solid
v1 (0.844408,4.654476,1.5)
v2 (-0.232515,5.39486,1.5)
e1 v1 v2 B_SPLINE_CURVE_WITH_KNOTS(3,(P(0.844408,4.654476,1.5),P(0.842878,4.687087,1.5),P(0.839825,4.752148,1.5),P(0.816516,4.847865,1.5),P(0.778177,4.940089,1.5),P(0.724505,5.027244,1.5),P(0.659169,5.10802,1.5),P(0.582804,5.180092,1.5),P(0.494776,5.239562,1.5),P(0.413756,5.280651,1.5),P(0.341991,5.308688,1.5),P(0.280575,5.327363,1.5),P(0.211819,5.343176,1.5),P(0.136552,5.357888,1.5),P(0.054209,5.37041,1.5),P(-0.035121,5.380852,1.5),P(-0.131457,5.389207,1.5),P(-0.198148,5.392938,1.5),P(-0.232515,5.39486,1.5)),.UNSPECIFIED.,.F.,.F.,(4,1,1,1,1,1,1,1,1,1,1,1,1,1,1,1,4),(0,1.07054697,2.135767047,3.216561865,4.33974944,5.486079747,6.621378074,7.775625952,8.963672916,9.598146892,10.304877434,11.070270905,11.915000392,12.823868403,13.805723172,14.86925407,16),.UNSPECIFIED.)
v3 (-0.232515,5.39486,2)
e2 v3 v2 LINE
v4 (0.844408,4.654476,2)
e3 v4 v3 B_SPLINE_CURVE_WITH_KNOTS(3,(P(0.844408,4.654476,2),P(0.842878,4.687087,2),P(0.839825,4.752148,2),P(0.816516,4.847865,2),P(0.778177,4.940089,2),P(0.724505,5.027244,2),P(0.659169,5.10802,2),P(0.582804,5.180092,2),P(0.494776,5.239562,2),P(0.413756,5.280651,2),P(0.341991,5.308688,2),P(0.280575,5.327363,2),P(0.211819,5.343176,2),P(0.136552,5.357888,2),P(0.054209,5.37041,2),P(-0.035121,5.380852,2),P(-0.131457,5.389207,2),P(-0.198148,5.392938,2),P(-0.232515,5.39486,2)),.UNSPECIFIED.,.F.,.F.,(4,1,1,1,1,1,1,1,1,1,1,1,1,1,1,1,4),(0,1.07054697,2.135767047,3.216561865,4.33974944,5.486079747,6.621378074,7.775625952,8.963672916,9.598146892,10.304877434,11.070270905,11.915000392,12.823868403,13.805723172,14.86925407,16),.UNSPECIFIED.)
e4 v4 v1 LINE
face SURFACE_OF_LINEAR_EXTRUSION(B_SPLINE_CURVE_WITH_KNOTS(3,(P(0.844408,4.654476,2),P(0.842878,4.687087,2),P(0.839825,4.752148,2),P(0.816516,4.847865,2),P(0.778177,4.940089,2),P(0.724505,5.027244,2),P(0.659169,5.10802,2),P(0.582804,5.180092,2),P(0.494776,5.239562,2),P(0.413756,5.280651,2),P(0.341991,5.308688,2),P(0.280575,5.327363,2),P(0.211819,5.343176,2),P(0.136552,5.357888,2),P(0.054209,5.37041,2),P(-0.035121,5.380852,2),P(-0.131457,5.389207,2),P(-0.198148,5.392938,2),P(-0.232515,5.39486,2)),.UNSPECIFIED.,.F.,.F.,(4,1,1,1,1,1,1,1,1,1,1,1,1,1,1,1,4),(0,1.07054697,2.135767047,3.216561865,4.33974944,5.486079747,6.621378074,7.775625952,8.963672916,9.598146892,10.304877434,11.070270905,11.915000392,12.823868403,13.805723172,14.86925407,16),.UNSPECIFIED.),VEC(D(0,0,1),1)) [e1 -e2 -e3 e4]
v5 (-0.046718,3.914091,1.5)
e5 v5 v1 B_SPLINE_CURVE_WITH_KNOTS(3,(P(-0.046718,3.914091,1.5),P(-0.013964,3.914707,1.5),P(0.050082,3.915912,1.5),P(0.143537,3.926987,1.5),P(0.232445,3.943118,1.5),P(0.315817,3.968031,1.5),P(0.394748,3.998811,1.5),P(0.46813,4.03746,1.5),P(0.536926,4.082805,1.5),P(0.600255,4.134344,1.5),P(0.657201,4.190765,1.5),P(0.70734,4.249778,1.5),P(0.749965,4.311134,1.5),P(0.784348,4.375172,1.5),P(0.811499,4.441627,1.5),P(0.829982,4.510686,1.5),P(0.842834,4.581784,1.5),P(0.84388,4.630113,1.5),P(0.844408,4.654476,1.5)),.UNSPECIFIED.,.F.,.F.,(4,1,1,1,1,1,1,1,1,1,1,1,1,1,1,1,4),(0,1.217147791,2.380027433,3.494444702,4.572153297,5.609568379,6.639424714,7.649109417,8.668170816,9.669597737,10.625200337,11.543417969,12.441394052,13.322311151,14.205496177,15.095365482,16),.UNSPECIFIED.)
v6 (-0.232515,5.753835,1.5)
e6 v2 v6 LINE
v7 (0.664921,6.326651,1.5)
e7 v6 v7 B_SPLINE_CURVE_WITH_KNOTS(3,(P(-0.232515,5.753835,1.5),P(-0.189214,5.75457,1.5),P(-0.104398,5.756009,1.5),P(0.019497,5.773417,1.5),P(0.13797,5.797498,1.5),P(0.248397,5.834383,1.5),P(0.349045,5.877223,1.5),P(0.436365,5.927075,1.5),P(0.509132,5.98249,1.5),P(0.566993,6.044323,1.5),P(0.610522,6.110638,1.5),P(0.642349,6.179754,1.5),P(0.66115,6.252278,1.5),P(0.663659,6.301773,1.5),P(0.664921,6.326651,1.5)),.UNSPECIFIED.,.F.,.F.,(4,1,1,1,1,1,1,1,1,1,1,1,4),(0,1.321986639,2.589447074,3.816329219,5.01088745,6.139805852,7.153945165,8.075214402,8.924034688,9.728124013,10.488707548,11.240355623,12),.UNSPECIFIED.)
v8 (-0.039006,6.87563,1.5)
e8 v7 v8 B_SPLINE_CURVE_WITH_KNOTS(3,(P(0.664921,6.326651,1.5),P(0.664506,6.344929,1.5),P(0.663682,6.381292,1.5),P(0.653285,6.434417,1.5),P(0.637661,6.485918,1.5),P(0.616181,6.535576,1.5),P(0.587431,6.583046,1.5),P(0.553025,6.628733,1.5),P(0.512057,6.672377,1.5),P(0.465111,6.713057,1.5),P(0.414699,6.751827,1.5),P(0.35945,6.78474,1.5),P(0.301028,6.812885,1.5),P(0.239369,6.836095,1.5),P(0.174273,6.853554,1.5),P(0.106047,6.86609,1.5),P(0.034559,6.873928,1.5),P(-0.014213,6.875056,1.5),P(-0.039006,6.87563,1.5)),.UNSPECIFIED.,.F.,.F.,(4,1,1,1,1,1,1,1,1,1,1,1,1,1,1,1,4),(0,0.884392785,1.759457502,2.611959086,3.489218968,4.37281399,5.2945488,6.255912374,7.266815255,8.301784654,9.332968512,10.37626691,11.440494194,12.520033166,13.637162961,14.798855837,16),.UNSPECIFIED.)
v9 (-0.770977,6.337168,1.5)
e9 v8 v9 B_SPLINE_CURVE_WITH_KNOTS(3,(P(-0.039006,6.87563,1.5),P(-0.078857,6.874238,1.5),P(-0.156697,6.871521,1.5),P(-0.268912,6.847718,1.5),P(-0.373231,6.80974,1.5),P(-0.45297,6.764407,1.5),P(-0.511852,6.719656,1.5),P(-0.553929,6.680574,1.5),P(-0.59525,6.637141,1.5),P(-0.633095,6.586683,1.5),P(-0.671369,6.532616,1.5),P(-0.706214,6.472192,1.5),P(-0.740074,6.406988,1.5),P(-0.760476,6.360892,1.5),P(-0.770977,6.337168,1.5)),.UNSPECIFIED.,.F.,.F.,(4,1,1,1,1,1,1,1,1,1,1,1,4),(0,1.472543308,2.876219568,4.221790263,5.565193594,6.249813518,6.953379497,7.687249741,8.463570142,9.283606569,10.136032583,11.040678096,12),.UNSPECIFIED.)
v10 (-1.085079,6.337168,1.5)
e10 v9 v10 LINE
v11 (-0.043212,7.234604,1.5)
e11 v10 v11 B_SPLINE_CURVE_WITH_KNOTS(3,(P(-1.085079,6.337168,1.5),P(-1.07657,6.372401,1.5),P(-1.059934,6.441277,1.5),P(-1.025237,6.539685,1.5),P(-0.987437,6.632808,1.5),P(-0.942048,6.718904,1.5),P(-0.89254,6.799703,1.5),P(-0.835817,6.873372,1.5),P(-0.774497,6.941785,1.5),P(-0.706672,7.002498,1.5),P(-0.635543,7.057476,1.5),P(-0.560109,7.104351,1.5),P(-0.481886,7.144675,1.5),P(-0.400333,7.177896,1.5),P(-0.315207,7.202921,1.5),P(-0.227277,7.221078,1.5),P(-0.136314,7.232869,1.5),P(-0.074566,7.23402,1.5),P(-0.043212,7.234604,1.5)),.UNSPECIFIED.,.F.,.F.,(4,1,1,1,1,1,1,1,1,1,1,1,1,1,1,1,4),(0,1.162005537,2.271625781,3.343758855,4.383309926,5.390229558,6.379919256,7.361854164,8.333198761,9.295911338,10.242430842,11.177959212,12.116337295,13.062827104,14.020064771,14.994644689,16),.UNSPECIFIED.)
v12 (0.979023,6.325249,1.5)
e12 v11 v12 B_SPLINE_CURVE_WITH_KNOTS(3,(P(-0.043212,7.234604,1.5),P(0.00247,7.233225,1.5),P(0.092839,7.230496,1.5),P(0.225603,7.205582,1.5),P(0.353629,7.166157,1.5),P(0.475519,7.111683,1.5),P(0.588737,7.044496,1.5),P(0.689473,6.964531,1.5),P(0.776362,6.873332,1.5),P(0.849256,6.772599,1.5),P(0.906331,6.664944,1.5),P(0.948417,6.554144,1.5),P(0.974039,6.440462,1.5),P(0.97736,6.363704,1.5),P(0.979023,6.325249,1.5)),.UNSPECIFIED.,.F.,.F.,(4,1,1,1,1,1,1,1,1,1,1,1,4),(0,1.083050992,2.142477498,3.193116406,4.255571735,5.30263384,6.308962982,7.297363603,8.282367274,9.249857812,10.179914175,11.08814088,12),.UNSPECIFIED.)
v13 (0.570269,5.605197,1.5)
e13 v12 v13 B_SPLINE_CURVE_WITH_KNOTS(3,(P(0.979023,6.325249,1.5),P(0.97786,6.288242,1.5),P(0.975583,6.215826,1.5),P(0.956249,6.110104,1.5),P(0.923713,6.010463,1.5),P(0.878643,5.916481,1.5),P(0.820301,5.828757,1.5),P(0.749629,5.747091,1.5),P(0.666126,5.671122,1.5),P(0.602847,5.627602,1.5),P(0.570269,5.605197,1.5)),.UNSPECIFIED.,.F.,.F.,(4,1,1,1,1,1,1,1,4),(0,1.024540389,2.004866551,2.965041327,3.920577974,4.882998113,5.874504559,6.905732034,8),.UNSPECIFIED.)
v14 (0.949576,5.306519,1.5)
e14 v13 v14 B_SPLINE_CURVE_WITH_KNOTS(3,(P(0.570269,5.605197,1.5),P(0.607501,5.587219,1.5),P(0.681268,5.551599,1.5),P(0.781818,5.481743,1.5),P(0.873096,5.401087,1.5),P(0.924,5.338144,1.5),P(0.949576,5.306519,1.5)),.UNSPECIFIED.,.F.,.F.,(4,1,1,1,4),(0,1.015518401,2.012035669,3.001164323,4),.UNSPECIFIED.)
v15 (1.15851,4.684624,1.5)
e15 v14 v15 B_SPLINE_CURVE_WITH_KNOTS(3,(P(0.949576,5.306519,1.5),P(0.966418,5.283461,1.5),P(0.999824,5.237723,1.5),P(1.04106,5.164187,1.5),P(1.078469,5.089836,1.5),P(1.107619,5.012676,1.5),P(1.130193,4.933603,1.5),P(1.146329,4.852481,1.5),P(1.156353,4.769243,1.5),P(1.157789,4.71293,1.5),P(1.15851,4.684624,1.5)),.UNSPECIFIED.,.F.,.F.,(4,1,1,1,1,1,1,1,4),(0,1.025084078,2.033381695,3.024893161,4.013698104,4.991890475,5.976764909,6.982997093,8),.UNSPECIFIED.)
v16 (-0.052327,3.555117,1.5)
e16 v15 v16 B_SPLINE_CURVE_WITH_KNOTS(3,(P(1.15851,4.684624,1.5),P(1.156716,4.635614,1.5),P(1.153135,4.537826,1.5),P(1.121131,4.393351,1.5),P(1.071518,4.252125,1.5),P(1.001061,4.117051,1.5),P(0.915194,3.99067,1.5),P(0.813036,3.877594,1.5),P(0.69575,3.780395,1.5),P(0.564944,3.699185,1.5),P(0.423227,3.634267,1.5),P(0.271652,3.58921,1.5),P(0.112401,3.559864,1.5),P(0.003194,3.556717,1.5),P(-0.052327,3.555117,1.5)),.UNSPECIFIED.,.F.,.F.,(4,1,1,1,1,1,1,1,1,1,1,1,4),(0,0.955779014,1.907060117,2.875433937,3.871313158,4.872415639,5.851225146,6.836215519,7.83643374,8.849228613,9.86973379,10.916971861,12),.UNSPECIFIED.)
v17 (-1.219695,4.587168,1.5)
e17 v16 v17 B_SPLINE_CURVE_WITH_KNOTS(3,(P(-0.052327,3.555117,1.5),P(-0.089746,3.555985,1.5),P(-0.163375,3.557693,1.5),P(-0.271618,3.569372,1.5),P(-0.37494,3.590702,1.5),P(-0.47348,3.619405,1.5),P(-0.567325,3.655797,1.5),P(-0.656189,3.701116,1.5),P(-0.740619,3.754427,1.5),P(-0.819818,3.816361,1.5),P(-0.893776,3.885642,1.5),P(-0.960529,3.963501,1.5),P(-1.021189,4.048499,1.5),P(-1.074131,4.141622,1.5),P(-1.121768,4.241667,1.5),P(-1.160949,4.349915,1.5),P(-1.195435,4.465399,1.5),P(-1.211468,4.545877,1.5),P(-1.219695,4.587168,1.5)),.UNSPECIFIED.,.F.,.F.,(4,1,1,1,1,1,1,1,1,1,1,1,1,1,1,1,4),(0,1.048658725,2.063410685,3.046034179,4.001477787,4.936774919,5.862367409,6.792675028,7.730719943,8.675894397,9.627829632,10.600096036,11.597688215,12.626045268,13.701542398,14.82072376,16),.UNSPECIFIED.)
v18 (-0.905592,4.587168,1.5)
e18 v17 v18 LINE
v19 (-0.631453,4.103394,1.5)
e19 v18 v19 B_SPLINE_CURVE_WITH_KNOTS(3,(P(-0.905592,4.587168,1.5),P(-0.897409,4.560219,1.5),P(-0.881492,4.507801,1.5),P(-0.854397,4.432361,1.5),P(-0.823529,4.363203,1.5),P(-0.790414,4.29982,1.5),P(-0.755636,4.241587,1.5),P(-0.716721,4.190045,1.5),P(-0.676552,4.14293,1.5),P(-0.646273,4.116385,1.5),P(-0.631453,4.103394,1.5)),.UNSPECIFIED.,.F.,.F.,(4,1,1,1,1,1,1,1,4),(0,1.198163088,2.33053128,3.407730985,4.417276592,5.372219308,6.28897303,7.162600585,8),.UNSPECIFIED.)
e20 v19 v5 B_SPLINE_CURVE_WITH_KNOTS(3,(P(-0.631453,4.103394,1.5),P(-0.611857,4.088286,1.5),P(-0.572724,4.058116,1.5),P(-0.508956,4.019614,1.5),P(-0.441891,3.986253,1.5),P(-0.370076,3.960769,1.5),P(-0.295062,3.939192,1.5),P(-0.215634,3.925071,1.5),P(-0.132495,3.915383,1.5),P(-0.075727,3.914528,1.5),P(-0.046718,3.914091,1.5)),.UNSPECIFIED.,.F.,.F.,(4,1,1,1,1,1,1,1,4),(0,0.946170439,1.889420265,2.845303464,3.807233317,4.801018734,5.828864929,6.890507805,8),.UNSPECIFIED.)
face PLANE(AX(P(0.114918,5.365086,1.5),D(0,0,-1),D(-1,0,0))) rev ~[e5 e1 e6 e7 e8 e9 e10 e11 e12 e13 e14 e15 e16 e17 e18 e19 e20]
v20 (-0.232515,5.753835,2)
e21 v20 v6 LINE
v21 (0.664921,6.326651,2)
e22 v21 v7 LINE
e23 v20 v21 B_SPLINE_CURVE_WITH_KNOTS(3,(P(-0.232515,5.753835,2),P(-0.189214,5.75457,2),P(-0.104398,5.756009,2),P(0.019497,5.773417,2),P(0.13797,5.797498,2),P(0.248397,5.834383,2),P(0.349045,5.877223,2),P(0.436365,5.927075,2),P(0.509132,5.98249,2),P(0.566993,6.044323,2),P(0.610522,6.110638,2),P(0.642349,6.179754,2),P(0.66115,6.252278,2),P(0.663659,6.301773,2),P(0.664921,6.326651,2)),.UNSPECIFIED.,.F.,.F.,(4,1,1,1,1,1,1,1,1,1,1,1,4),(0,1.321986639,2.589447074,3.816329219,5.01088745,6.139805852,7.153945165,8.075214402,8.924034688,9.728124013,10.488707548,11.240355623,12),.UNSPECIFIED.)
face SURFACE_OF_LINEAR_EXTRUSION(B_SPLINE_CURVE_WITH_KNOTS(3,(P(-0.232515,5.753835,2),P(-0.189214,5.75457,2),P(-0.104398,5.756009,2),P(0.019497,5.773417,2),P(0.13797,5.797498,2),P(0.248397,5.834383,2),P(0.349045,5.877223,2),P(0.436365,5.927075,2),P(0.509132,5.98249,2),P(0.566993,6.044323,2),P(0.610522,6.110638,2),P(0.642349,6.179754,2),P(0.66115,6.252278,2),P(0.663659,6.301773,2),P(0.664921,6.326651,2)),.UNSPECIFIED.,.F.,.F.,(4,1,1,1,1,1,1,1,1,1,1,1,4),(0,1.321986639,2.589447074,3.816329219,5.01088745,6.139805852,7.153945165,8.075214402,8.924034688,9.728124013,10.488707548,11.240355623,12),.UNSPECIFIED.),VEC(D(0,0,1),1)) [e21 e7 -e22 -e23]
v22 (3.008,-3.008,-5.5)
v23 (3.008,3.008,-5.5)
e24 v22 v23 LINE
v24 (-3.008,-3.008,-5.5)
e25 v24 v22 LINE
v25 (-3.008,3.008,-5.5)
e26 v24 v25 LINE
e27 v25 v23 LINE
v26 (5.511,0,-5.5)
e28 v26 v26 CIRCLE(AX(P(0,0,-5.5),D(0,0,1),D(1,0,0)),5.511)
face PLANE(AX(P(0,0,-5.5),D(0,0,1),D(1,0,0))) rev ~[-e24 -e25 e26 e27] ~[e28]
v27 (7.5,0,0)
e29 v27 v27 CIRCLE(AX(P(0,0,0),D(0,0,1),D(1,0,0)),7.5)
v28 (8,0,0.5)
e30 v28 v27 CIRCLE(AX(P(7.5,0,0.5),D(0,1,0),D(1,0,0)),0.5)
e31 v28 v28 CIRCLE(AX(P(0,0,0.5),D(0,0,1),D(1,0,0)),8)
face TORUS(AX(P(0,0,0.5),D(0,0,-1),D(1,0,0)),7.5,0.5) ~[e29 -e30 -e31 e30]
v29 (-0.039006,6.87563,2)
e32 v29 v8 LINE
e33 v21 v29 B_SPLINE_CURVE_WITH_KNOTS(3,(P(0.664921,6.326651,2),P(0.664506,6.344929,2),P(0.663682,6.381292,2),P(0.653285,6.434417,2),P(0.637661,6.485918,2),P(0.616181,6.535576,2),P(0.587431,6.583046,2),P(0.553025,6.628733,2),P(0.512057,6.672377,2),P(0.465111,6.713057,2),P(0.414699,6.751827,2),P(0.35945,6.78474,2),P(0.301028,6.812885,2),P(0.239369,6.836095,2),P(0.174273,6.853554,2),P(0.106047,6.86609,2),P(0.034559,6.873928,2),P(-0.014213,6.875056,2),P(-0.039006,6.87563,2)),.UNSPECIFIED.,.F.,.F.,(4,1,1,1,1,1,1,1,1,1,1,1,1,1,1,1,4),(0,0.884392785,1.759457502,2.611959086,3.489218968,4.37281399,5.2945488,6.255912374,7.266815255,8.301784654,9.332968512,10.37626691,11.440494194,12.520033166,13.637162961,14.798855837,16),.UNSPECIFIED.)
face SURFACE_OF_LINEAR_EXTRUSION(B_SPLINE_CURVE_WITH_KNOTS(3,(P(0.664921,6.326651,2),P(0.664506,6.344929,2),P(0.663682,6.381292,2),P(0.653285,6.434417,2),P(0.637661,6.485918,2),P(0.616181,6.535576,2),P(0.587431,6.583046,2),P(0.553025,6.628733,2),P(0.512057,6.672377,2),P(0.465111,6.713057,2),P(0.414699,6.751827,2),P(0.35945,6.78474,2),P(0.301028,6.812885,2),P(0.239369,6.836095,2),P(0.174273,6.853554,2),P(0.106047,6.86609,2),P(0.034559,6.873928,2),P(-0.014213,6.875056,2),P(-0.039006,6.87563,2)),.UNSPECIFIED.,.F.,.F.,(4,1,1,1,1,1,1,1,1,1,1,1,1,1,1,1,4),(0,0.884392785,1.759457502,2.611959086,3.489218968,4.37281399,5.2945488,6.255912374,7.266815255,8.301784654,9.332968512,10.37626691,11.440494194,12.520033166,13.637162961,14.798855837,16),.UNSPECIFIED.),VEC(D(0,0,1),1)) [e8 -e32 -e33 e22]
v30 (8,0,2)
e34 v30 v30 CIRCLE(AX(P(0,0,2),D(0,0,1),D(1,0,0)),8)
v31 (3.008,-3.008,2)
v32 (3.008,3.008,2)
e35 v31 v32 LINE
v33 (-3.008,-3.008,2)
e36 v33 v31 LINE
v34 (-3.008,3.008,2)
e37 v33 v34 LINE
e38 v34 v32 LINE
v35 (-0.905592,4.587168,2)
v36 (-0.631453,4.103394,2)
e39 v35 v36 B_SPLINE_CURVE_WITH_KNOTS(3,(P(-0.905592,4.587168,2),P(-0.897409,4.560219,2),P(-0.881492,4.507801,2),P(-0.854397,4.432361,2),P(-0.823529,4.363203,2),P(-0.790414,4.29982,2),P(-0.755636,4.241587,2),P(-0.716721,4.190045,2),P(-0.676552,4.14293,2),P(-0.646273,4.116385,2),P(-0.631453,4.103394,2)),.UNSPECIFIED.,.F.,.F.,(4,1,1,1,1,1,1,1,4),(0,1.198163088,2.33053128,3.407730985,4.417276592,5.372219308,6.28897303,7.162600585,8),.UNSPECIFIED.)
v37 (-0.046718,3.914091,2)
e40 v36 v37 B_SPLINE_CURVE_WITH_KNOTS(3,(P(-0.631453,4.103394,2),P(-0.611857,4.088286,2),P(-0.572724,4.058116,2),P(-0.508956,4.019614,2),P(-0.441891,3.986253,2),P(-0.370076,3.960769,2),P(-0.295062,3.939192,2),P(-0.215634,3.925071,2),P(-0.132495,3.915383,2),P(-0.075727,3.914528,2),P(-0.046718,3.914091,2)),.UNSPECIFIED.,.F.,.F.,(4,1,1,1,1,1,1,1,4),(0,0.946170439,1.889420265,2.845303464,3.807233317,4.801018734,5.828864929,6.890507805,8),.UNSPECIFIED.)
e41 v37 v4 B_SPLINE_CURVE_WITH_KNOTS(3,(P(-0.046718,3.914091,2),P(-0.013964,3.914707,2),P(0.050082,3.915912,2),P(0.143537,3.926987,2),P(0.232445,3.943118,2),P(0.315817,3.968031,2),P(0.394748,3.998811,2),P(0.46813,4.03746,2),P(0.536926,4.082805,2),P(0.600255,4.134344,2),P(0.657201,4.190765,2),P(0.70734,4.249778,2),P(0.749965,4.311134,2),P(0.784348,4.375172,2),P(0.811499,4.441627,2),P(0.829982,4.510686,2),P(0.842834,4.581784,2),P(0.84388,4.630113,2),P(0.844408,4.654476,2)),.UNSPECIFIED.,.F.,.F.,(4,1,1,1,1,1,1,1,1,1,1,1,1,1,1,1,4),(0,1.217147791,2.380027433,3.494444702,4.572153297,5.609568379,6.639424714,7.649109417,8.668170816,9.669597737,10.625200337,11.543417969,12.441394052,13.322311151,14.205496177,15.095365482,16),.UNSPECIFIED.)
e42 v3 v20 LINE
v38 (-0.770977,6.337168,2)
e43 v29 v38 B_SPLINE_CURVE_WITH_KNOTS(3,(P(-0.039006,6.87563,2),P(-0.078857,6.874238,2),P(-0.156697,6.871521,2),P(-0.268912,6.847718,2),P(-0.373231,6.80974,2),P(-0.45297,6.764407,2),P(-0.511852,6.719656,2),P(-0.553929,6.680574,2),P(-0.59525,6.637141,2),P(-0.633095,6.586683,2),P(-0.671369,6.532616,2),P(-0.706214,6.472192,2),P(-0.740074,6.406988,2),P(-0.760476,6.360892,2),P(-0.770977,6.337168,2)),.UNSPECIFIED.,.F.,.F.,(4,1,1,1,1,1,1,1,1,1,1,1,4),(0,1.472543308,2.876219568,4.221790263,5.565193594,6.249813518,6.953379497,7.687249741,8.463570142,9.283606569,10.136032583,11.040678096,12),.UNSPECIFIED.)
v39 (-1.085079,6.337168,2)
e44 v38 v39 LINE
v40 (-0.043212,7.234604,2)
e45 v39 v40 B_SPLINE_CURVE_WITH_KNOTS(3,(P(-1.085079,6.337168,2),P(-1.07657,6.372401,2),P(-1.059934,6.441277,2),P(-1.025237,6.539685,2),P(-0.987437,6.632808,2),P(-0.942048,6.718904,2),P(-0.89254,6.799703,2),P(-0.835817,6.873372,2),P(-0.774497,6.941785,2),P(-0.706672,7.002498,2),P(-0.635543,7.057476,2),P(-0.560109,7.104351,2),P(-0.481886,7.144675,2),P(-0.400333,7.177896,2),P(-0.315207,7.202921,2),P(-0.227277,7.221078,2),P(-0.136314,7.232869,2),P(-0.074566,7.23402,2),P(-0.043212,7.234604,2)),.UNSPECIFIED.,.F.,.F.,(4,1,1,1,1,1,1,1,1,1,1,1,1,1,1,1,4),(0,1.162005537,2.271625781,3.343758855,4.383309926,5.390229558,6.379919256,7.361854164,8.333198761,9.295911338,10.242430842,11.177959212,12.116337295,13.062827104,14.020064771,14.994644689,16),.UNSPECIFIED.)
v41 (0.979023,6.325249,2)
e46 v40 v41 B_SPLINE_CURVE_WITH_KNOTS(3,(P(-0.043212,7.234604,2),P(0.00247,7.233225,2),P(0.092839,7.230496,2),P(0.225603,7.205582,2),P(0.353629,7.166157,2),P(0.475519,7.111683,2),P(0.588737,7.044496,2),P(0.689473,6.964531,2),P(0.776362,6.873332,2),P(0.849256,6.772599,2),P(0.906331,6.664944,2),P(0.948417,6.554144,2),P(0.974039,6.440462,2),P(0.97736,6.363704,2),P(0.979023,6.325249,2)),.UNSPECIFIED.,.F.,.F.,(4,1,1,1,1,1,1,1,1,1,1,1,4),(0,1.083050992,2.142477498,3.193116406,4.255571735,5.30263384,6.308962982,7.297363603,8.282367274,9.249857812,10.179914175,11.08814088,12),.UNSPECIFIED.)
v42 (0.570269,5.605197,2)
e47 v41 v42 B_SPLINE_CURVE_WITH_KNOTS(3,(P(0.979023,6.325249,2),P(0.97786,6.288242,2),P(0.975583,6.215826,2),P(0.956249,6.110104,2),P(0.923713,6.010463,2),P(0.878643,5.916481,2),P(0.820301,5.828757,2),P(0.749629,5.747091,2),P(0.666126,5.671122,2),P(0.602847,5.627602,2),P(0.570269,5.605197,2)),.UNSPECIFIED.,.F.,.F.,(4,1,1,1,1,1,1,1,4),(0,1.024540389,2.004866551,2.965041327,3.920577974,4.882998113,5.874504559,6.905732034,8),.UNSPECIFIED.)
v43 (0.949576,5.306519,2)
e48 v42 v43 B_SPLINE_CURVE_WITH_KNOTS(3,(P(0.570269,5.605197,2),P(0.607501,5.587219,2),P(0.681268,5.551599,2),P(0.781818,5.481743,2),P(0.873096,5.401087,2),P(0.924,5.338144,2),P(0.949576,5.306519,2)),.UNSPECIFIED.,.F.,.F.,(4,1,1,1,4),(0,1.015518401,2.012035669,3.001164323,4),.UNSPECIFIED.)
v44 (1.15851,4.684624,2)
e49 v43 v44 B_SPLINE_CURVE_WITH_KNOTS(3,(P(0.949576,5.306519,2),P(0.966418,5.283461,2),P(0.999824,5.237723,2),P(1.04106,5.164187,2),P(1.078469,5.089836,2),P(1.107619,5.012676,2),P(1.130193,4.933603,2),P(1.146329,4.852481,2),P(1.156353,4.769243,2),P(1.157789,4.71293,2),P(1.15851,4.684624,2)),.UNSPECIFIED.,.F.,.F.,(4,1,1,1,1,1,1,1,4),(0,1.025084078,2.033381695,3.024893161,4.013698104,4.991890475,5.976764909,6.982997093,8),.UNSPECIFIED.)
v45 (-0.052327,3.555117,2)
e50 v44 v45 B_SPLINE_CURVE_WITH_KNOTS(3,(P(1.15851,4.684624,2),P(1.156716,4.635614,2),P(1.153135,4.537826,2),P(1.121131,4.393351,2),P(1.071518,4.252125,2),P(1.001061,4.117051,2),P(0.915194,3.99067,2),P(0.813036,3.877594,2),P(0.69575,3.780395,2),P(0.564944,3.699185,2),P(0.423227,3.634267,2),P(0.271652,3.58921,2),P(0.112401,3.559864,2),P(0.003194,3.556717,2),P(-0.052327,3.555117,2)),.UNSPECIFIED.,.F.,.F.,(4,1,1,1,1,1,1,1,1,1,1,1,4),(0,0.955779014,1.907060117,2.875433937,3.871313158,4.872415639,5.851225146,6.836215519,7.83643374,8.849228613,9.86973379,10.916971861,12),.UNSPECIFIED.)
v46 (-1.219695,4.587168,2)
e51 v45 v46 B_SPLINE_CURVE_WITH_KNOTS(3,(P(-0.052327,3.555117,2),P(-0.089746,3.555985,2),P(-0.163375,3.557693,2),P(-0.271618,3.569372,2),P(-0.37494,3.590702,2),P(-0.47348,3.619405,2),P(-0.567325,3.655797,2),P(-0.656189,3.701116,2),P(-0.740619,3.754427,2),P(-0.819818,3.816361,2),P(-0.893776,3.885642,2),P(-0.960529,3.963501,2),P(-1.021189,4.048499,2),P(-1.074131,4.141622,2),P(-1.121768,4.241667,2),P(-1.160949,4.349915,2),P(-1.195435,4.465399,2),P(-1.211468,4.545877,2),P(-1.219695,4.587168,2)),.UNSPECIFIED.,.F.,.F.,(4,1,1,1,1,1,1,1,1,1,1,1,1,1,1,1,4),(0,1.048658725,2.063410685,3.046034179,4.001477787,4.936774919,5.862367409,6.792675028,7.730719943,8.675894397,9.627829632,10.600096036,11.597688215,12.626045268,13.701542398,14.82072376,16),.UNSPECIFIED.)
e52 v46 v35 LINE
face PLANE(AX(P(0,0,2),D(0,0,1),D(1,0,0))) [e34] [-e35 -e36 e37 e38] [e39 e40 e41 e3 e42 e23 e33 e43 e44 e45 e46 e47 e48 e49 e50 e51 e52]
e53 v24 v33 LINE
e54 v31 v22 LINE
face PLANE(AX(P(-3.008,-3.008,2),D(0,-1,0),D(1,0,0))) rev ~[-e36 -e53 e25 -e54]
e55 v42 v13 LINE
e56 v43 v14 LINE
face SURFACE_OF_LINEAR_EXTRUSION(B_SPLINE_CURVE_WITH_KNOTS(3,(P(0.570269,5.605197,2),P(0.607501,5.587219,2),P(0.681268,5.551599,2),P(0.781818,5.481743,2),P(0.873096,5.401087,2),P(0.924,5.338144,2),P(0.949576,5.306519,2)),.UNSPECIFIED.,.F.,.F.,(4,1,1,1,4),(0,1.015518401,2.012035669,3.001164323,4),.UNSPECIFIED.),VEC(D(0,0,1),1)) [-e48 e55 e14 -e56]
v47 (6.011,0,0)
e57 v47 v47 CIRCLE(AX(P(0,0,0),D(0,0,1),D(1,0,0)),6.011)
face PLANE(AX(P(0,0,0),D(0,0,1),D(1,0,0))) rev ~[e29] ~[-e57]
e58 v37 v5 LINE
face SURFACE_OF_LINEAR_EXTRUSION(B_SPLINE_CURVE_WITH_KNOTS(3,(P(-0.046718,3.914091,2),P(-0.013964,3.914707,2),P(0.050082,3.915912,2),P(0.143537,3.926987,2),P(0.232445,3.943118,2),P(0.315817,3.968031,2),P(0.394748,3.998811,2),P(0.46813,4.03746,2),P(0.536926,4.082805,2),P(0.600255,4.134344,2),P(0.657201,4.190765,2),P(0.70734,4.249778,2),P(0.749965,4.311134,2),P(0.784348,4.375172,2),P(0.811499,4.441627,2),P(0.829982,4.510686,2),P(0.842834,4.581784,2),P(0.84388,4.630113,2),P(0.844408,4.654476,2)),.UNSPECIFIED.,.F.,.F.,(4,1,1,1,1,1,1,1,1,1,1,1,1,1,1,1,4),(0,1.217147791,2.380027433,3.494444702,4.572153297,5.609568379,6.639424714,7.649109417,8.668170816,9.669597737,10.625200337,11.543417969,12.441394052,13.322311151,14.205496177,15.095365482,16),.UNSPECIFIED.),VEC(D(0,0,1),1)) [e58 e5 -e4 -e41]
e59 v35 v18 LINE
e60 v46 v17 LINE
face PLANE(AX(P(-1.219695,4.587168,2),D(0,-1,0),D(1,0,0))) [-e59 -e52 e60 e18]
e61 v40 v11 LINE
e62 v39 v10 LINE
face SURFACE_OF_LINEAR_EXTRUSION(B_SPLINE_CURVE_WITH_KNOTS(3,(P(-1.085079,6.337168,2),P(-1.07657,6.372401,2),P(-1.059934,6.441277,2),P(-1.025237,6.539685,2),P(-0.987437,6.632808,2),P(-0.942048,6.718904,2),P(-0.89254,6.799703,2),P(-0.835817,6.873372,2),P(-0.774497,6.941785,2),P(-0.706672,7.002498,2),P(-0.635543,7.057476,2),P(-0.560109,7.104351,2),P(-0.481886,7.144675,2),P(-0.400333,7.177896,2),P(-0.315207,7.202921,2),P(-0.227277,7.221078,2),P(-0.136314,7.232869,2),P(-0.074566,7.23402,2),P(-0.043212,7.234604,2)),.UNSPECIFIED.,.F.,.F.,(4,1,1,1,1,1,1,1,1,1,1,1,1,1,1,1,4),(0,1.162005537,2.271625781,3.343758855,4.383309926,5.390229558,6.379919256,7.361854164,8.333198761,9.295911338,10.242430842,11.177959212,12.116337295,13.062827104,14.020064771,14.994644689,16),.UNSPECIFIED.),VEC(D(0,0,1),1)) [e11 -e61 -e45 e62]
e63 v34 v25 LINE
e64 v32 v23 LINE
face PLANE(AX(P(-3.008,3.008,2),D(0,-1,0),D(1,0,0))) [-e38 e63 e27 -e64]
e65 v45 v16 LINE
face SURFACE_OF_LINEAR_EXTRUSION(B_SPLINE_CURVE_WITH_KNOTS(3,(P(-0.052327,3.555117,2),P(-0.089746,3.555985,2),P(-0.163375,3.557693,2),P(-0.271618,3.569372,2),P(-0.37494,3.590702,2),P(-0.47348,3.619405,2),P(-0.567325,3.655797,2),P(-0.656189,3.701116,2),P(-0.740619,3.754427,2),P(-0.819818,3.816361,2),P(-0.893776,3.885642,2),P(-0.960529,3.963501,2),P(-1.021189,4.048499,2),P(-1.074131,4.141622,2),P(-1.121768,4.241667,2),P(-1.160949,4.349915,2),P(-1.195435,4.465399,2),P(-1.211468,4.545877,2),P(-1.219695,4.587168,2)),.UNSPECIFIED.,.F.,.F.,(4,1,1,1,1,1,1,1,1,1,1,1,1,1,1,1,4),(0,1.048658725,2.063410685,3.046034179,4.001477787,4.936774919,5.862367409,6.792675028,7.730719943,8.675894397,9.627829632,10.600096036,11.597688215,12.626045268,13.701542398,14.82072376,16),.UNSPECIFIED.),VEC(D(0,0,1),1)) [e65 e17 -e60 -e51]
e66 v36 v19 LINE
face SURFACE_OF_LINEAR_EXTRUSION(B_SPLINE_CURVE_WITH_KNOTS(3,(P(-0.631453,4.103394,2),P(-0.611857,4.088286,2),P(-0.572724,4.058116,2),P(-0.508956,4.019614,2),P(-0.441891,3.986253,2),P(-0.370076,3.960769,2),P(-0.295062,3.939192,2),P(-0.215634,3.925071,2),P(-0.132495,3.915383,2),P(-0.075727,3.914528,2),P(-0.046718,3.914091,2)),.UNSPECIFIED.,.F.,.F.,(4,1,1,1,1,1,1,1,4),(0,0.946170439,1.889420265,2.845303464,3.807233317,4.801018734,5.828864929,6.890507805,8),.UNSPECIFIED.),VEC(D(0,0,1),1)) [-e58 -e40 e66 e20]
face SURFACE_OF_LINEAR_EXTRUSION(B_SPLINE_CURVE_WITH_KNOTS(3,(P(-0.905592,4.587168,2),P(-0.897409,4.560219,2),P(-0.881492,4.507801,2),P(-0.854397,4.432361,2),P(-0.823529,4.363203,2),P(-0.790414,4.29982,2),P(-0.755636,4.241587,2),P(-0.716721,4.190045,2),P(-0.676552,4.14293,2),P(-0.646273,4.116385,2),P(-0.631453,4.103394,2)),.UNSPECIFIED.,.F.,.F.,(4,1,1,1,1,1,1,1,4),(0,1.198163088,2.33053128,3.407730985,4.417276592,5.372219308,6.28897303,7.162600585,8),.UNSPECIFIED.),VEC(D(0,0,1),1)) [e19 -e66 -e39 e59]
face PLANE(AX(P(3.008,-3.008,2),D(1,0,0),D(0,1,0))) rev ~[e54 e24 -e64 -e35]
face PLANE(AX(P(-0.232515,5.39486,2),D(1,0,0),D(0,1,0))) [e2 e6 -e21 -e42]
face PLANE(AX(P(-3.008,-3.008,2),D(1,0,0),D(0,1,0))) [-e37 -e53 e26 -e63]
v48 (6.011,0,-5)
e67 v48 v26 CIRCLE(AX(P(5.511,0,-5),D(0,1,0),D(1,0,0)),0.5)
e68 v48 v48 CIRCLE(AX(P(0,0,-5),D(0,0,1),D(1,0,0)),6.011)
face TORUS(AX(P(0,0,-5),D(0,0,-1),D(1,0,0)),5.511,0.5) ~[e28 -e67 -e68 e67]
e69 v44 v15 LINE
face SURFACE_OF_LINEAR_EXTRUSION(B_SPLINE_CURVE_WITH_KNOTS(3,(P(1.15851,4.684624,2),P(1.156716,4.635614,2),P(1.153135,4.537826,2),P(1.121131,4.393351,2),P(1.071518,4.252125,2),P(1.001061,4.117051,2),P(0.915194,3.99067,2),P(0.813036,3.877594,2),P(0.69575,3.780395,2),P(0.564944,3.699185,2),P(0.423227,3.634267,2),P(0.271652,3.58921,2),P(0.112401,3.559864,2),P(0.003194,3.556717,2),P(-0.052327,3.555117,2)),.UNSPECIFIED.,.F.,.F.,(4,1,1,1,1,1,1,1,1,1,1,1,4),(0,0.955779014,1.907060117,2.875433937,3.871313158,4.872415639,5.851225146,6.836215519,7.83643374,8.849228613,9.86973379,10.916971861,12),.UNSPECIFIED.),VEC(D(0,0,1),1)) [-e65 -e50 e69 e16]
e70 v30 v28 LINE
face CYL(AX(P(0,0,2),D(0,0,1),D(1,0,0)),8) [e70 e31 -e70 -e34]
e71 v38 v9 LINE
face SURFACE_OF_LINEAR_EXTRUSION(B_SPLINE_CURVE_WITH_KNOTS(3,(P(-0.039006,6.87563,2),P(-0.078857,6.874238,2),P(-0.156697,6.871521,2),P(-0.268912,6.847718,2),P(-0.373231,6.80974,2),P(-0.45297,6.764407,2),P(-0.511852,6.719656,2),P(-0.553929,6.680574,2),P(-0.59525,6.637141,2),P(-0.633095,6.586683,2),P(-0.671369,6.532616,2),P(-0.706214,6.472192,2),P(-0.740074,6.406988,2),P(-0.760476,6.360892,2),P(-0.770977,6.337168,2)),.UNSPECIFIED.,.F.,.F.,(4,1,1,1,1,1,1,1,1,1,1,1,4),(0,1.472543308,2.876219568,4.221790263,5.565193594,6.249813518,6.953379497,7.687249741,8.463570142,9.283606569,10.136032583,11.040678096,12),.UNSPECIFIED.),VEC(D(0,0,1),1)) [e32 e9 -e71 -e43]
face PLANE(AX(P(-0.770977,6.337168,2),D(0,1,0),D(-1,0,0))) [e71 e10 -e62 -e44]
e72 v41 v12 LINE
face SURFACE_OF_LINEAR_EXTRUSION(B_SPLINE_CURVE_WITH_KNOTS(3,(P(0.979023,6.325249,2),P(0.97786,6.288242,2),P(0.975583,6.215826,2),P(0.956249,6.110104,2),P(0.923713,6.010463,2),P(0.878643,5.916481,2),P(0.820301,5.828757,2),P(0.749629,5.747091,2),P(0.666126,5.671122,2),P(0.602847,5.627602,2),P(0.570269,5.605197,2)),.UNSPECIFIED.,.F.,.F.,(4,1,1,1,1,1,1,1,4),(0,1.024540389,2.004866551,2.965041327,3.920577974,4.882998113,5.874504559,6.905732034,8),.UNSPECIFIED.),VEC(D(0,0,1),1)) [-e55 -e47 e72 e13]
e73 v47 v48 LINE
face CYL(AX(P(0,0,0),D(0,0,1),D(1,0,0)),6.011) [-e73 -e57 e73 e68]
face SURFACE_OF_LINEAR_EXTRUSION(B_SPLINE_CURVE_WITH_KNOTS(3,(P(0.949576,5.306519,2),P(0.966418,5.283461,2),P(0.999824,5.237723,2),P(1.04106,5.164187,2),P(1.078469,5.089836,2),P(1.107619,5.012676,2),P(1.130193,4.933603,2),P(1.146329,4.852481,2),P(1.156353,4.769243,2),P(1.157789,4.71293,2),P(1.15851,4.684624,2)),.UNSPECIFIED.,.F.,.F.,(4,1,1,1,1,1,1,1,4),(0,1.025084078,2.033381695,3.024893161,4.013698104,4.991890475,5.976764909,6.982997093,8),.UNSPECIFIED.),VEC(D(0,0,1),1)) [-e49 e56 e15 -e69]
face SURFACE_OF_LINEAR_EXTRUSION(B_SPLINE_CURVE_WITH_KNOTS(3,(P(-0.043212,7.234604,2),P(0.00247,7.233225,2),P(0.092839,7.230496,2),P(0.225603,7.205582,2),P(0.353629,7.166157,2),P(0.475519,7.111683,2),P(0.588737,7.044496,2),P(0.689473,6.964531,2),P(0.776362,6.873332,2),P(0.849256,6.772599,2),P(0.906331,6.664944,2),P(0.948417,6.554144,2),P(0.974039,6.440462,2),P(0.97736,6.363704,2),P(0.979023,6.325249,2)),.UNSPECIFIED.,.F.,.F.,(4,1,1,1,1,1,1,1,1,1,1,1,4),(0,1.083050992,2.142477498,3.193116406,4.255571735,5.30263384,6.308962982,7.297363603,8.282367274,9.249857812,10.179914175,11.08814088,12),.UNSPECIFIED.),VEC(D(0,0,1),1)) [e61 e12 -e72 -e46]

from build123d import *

# Parameters (mm, degrees)
SKETCH1_R           = 6.011
SKETCH1_W           = 6.016
SKETCH1_H           = 6.016
BOSS_EXTRUDE1_DEPTH = 5.5
SKETCH1_3_R         = 8
SKETCH1_3_W         = 6.016
SKETCH1_3_H         = 6.016
BOSS_EXTRUDE2_DEPTH = 2
FILLET1_R           = 0.5
CUT_EXTRUDE1_DEPTH  = 0.5


with BuildPart() as part:
    # Sketch1 → Boss-Extrude1 (new body)
    with BuildSketch(Plane.XY):
        Circle(SKETCH1_R)
        Rectangle(SKETCH1_W, SKETCH1_H, mode=Mode.SUBTRACT)
    extrude(amount=-BOSS_EXTRUDE1_DEPTH)

    # Sketch1<3> → Boss-Extrude2 (add)
    with BuildSketch(Plane.XY):
        Circle(SKETCH1_3_R)
        Rectangle(SKETCH1_3_W, SKETCH1_3_H, mode=Mode.SUBTRACT)
    extrude(amount=BOSS_EXTRUDE2_DEPTH)

    # Fillet1
    fillet1_edges = [part.edges().sort_by_distance(p)[0] for p in [
        (-8, 0, 0),
        (-6.011, 0, -5.5),
    ]]
    fillet(fillet1_edges, radius=FILLET1_R)

    # Sketch2 → Cut-Extrude1 (cut)
    with BuildSketch(Plane.XY.offset(2)):
        with BuildLine():
            Line((-0.770976701, 6.337168177), (-1.085079266, 6.337168177))
            add(Edge.make_bspline(
                [(-1.085079266, 6.337168177), (-1.076569715, 6.372400661), (-1.059934239, 6.441277286), (-1.025236666, 6.539684546), (-0.987437411, 6.632808068), (-0.942048306, 6.718904141), (-0.892539552, 6.799703044), (-0.83581683, 6.873372169), (-0.774497108, 6.941785134), (-0.706672158, 7.002498372), (-0.635543497, 7.057476101), (-0.560108877, 7.104351158), (-0.481885983, 7.144675311), (-0.40033285, 7.177895543), (-0.315206679, 7.202921067), (-0.227277055, 7.221077872), (-0.136313555, 7.232868986), (-0.074565965, 7.23401975), (-0.043212278, 7.234604075)],
                knots=[0, 0, 0, 0, 1.162005537, 2.271625781, 3.343758855, 4.383309926, 5.390229558, 6.379919256, 7.361854164, 8.333198761, 9.295911338, 10.242430842, 11.177959212, 12.116337295, 13.062827104, 14.020064771, 14.994644689, 16, 16, 16, 16], degree=3))
            add(Edge.make_bspline(
                [(-0.043212278, 7.234604075), (0.002470464, 7.233224844), (0.092839475, 7.230496469), (0.225602522, 7.205582032), (0.353629341, 7.1661569), (0.475518589, 7.111683173), (0.588737021, 7.04449586), (0.689473208, 6.964531123), (0.776361719, 6.873331821), (0.849256096, 6.772599257), (0.906331095, 6.664943748), (0.948417469, 6.554143591), (0.97403915, 6.440461619), (0.977359707, 6.36370434), (0.979023299, 6.325249107)],
                knots=[0, 0, 0, 0, 1.083050992, 2.142477498, 3.193116406, 4.255571735, 5.30263384, 6.308962982, 7.297363603, 8.282367274, 9.249857812, 10.179914175, 11.08814088, 12, 12, 12, 12], degree=3))
            add(Edge.make_bspline(
                [(0.979023299, 6.325249107), (0.977859708, 6.288242312), (0.97558274, 6.215825757), (0.956249035, 6.11010426), (0.923712772, 6.01046266), (0.878643009, 5.916481498), (0.820301459, 5.828756658), (0.749628762, 5.747090767), (0.6661261, 5.671121609), (0.602847162, 5.627602136), (0.570269292, 5.605197023)],
                knots=[0, 0, 0, 0, 1.024540389, 2.004866551, 2.965041327, 3.920577974, 4.882998113, 5.874504559, 6.905732034, 8, 8, 8, 8], degree=3))
            add(Edge.make_bspline(
                [(0.570269292, 5.605197023), (0.607501047, 5.587218852), (0.681267921, 5.551598894), (0.781818451, 5.481743137), (0.873096326, 5.401086789), (0.924000045, 5.338144136), (0.949576183, 5.306519139)],
                knots=[0, 0, 0, 0, 1.015518401, 2.012035669, 3.001164323, 4, 4, 4, 4], degree=3))
            add(Edge.make_bspline(
                [(0.949576183, 5.306519139), (0.966417526, 5.283461387), (0.999824422, 5.237723471), (1.041059955, 5.164187045), (1.07846907, 5.089835555), (1.107619289, 5.012676149), (1.130193156, 4.933603136), (1.146329188, 4.85248074), (1.156353329, 4.769242717), (1.157788881, 4.712930237), (1.158510478, 4.684624107)],
                knots=[0, 0, 0, 0, 1.025084078, 2.033381695, 3.024893161, 4.013698104, 4.991890475, 5.976764909, 6.982997093, 8, 8, 8, 8], degree=3))
            add(Edge.make_bspline(
                [(1.158510478, 4.684624107), (1.156715965, 4.635614385), (1.153135383, 4.537825584), (1.121131308, 4.393350862), (1.071518068, 4.25212536), (1.001061132, 4.11705052), (0.915193623, 3.990670139), (0.813036299, 3.87759383), (0.69574989, 3.780395226), (0.564944241, 3.699184998), (0.423227113, 3.634267076), (0.271651521, 3.589209633), (0.112401467, 3.559863633), (0.003194169, 3.556716764), (-0.052326862, 3.555116895)],
                knots=[0, 0, 0, 0, 0.955779014, 1.907060117, 2.875433937, 3.871313158, 4.872415639, 5.851225146, 6.836215519, 7.83643374, 8.849228613, 9.86973379, 10.916971861, 12, 12, 12, 12], degree=3))
            add(Edge.make_bspline(
                [(-0.052326862, 3.555116895), (-0.089746162, 3.555985108), (-0.163374867, 3.557693463), (-0.271618365, 3.569372064), (-0.374940065, 3.590702069), (-0.473479663, 3.619405374), (-0.567324699, 3.655797116), (-0.656188804, 3.701115814), (-0.740618698, 3.754427316), (-0.819817649, 3.816360904), (-0.893776217, 3.885642244), (-0.960528941, 3.963501254), (-1.021188734, 4.048498658), (-1.074131372, 4.141621714), (-1.121768325, 4.241666971), (-1.160949282, 4.34991547), (-1.19543485, 4.465399492), (-1.211468315, 4.545877232), (-1.21969465, 4.587168177)],
                knots=[0, 0, 0, 0, 1.048658725, 2.063410685, 3.046034179, 4.001477787, 4.936774919, 5.862367409, 6.792675028, 7.730719943, 8.675894397, 9.627829632, 10.600096036, 11.597688215, 12.626045268, 13.701542398, 14.82072376, 16, 16, 16, 16], degree=3))
            Line((-1.21969465, 4.587168177), (-0.905592086, 4.587168177))
            add(Edge.make_bspline(
                [(-0.905592086, 4.587168177), (-0.897408795, 4.560219164), (-0.881491582, 4.507800992), (-0.854397284, 4.432360687), (-0.823529012, 4.363202633), (-0.790414453, 4.299819511), (-0.755636007, 4.241587109), (-0.716721082, 4.19004524), (-0.676551937, 4.142930038), (-0.646272584, 4.116385426), (-0.631453464, 4.103394139)],
                knots=[0, 0, 0, 0, 1.198163088, 2.33053128, 3.407730985, 4.417276592, 5.372219308, 6.28897303, 7.162600585, 8, 8, 8, 8], degree=3))
            add(Edge.make_bspline(
                [(-0.631453464, 4.103394139), (-0.611856888, 4.088285805), (-0.572724225, 4.058115773), (-0.508955994, 4.019614144), (-0.441891108, 3.986253119), (-0.370076433, 3.960769423), (-0.295061663, 3.939191763), (-0.215634298, 3.925071244), (-0.132495081, 3.915383072), (-0.075727317, 3.914528141), (-0.046717887, 3.914091254)],
                knots=[0, 0, 0, 0, 0.946170439, 1.889420265, 2.845303464, 3.807233317, 4.801018734, 5.828864929, 6.890507805, 8, 8, 8, 8], degree=3))
            add(Edge.make_bspline(
                [(-0.046717887, 3.914091254), (-0.013964385, 3.914707159), (0.050082262, 3.915911509), (0.143537122, 3.926987216), (0.232444569, 3.943117629), (0.315817495, 3.968030612), (0.394748002, 3.998811463), (0.468129652, 4.037459869), (0.536925758, 4.082804591), (0.600255164, 4.134343749), (0.657200671, 4.190765244), (0.707340184, 4.249778315), (0.749964846, 4.311134145), (0.784348424, 4.375172266), (0.811498974, 4.441627495), (0.829982175, 4.510686324), (0.84283369, 4.58178359), (0.843880302, 4.630112559), (0.844407914, 4.654475869)],
                knots=[0, 0, 0, 0, 1.217147791, 2.380027433, 3.494444702, 4.572153297, 5.609568379, 6.639424714, 7.649109417, 8.668170816, 9.669597737, 10.625200337, 11.543417969, 12.441394052, 13.322311151, 14.205496177, 15.095365482, 16, 16, 16, 16], degree=3))
            add(Edge.make_bspline(
                [(0.844407914, 4.654475869), (0.842877612, 4.687087208), (0.839824624, 4.752147617), (0.816516045, 4.847865191), (0.77817718, 4.940088603), (0.724504669, 5.027244393), (0.65916894, 5.108020295), (0.582804033, 5.180091777), (0.494775805, 5.239561868), (0.413755936, 5.280650525), (0.34199078, 5.3086876), (0.280575395, 5.327362564), (0.211818792, 5.34317622), (0.136552443, 5.357888492), (0.054209226, 5.37040984), (-0.035121212, 5.380851656), (-0.131456973, 5.389206697), (-0.198148139, 5.392937792), (-0.232515163, 5.394860485)],
                knots=[0, 0, 0, 0, 1.07054697, 2.135767047, 3.216561865, 4.33974944, 5.486079747, 6.621378074, 7.775625952, 8.963672916, 9.598146892, 10.304877434, 11.070270905, 11.915000392, 12.823868403, 13.805723172, 14.86925407, 16, 16, 16, 16], degree=3))
            Line((-0.232515163, 5.394860485), (-0.232515163, 5.753834844))
            add(Edge.make_bspline(
                [(-0.232515163, 5.753834844), (-0.189213997, 5.754569648), (-0.104397651, 5.756008948), (0.019496654, 5.773416958), (0.137969966, 5.797497586), (0.248396708, 5.834382778), (0.349045422, 5.877223075), (0.436365024, 5.927075285), (0.509132171, 5.982490034), (0.566993242, 6.044322643), (0.610522471, 6.110637691), (0.642349268, 6.179754348), (0.661149595, 6.252278409), (0.663659262, 6.301773077), (0.664920734, 6.32665135)],
                knots=[0, 0, 0, 0, 1.321986639, 2.589447074, 3.816329219, 5.01088745, 6.139805852, 7.153945165, 8.075214402, 8.924034688, 9.728124013, 10.488707548, 11.240355623, 12, 12, 12, 12], degree=3))
            add(Edge.make_bspline(
                [(0.664920734, 6.32665135), (0.664506324, 6.344929095), (0.663681873, 6.381291802), (0.653284595, 6.434416871), (0.637660554, 6.485917817), (0.616180824, 6.535575627), (0.587430626, 6.583045901), (0.553024639, 6.62873335), (0.512056539, 6.672377129), (0.465111092, 6.713057449), (0.414699287, 6.751826686), (0.359449512, 6.784740323), (0.301027637, 6.812885385), (0.239368982, 6.836094887), (0.174273452, 6.853554175), (0.106046894, 6.866090017), (0.034559211, 6.873927671), (-0.014212521, 6.875056087), (-0.039005548, 6.875629716)],
                knots=[0, 0, 0, 0, 0.884392785, 1.759457502, 2.611959086, 3.489218968, 4.37281399, 5.2945488, 6.255912374, 7.266815255, 8.301784654, 9.332968512, 10.37626691, 11.440494194, 12.520033166, 13.637162961, 14.798855837, 16, 16, 16, 16], degree=3))
            add(Edge.make_bspline(
                [(-0.039005548, 6.875629716), (-0.078857216, 6.874238354), (-0.156696792, 6.8715207), (-0.268911709, 6.847717687), (-0.373231043, 6.809739603), (-0.452969709, 6.764406584), (-0.511852284, 6.71965615), (-0.553929222, 6.680573763), (-0.595249732, 6.63714094), (-0.633095409, 6.586682564), (-0.671369386, 6.532615774), (-0.706213947, 6.472192093), (-0.74007364, 6.406987698), (-0.760476189, 6.360892064), (-0.770976701, 6.337168177)],
                knots=[0, 0, 0, 0, 1.472543308, 2.876219568, 4.221790263, 5.565193594, 6.249813518, 6.953379497, 7.687249741, 8.463570142, 9.283606569, 10.136032583, 11.040678096, 12, 12, 12, 12], degree=3))
        make_face()
    extrude(amount=-CUT_EXTRUDE1_DEPTH, mode=Mode.SUBTRACT)


solid = part.part
